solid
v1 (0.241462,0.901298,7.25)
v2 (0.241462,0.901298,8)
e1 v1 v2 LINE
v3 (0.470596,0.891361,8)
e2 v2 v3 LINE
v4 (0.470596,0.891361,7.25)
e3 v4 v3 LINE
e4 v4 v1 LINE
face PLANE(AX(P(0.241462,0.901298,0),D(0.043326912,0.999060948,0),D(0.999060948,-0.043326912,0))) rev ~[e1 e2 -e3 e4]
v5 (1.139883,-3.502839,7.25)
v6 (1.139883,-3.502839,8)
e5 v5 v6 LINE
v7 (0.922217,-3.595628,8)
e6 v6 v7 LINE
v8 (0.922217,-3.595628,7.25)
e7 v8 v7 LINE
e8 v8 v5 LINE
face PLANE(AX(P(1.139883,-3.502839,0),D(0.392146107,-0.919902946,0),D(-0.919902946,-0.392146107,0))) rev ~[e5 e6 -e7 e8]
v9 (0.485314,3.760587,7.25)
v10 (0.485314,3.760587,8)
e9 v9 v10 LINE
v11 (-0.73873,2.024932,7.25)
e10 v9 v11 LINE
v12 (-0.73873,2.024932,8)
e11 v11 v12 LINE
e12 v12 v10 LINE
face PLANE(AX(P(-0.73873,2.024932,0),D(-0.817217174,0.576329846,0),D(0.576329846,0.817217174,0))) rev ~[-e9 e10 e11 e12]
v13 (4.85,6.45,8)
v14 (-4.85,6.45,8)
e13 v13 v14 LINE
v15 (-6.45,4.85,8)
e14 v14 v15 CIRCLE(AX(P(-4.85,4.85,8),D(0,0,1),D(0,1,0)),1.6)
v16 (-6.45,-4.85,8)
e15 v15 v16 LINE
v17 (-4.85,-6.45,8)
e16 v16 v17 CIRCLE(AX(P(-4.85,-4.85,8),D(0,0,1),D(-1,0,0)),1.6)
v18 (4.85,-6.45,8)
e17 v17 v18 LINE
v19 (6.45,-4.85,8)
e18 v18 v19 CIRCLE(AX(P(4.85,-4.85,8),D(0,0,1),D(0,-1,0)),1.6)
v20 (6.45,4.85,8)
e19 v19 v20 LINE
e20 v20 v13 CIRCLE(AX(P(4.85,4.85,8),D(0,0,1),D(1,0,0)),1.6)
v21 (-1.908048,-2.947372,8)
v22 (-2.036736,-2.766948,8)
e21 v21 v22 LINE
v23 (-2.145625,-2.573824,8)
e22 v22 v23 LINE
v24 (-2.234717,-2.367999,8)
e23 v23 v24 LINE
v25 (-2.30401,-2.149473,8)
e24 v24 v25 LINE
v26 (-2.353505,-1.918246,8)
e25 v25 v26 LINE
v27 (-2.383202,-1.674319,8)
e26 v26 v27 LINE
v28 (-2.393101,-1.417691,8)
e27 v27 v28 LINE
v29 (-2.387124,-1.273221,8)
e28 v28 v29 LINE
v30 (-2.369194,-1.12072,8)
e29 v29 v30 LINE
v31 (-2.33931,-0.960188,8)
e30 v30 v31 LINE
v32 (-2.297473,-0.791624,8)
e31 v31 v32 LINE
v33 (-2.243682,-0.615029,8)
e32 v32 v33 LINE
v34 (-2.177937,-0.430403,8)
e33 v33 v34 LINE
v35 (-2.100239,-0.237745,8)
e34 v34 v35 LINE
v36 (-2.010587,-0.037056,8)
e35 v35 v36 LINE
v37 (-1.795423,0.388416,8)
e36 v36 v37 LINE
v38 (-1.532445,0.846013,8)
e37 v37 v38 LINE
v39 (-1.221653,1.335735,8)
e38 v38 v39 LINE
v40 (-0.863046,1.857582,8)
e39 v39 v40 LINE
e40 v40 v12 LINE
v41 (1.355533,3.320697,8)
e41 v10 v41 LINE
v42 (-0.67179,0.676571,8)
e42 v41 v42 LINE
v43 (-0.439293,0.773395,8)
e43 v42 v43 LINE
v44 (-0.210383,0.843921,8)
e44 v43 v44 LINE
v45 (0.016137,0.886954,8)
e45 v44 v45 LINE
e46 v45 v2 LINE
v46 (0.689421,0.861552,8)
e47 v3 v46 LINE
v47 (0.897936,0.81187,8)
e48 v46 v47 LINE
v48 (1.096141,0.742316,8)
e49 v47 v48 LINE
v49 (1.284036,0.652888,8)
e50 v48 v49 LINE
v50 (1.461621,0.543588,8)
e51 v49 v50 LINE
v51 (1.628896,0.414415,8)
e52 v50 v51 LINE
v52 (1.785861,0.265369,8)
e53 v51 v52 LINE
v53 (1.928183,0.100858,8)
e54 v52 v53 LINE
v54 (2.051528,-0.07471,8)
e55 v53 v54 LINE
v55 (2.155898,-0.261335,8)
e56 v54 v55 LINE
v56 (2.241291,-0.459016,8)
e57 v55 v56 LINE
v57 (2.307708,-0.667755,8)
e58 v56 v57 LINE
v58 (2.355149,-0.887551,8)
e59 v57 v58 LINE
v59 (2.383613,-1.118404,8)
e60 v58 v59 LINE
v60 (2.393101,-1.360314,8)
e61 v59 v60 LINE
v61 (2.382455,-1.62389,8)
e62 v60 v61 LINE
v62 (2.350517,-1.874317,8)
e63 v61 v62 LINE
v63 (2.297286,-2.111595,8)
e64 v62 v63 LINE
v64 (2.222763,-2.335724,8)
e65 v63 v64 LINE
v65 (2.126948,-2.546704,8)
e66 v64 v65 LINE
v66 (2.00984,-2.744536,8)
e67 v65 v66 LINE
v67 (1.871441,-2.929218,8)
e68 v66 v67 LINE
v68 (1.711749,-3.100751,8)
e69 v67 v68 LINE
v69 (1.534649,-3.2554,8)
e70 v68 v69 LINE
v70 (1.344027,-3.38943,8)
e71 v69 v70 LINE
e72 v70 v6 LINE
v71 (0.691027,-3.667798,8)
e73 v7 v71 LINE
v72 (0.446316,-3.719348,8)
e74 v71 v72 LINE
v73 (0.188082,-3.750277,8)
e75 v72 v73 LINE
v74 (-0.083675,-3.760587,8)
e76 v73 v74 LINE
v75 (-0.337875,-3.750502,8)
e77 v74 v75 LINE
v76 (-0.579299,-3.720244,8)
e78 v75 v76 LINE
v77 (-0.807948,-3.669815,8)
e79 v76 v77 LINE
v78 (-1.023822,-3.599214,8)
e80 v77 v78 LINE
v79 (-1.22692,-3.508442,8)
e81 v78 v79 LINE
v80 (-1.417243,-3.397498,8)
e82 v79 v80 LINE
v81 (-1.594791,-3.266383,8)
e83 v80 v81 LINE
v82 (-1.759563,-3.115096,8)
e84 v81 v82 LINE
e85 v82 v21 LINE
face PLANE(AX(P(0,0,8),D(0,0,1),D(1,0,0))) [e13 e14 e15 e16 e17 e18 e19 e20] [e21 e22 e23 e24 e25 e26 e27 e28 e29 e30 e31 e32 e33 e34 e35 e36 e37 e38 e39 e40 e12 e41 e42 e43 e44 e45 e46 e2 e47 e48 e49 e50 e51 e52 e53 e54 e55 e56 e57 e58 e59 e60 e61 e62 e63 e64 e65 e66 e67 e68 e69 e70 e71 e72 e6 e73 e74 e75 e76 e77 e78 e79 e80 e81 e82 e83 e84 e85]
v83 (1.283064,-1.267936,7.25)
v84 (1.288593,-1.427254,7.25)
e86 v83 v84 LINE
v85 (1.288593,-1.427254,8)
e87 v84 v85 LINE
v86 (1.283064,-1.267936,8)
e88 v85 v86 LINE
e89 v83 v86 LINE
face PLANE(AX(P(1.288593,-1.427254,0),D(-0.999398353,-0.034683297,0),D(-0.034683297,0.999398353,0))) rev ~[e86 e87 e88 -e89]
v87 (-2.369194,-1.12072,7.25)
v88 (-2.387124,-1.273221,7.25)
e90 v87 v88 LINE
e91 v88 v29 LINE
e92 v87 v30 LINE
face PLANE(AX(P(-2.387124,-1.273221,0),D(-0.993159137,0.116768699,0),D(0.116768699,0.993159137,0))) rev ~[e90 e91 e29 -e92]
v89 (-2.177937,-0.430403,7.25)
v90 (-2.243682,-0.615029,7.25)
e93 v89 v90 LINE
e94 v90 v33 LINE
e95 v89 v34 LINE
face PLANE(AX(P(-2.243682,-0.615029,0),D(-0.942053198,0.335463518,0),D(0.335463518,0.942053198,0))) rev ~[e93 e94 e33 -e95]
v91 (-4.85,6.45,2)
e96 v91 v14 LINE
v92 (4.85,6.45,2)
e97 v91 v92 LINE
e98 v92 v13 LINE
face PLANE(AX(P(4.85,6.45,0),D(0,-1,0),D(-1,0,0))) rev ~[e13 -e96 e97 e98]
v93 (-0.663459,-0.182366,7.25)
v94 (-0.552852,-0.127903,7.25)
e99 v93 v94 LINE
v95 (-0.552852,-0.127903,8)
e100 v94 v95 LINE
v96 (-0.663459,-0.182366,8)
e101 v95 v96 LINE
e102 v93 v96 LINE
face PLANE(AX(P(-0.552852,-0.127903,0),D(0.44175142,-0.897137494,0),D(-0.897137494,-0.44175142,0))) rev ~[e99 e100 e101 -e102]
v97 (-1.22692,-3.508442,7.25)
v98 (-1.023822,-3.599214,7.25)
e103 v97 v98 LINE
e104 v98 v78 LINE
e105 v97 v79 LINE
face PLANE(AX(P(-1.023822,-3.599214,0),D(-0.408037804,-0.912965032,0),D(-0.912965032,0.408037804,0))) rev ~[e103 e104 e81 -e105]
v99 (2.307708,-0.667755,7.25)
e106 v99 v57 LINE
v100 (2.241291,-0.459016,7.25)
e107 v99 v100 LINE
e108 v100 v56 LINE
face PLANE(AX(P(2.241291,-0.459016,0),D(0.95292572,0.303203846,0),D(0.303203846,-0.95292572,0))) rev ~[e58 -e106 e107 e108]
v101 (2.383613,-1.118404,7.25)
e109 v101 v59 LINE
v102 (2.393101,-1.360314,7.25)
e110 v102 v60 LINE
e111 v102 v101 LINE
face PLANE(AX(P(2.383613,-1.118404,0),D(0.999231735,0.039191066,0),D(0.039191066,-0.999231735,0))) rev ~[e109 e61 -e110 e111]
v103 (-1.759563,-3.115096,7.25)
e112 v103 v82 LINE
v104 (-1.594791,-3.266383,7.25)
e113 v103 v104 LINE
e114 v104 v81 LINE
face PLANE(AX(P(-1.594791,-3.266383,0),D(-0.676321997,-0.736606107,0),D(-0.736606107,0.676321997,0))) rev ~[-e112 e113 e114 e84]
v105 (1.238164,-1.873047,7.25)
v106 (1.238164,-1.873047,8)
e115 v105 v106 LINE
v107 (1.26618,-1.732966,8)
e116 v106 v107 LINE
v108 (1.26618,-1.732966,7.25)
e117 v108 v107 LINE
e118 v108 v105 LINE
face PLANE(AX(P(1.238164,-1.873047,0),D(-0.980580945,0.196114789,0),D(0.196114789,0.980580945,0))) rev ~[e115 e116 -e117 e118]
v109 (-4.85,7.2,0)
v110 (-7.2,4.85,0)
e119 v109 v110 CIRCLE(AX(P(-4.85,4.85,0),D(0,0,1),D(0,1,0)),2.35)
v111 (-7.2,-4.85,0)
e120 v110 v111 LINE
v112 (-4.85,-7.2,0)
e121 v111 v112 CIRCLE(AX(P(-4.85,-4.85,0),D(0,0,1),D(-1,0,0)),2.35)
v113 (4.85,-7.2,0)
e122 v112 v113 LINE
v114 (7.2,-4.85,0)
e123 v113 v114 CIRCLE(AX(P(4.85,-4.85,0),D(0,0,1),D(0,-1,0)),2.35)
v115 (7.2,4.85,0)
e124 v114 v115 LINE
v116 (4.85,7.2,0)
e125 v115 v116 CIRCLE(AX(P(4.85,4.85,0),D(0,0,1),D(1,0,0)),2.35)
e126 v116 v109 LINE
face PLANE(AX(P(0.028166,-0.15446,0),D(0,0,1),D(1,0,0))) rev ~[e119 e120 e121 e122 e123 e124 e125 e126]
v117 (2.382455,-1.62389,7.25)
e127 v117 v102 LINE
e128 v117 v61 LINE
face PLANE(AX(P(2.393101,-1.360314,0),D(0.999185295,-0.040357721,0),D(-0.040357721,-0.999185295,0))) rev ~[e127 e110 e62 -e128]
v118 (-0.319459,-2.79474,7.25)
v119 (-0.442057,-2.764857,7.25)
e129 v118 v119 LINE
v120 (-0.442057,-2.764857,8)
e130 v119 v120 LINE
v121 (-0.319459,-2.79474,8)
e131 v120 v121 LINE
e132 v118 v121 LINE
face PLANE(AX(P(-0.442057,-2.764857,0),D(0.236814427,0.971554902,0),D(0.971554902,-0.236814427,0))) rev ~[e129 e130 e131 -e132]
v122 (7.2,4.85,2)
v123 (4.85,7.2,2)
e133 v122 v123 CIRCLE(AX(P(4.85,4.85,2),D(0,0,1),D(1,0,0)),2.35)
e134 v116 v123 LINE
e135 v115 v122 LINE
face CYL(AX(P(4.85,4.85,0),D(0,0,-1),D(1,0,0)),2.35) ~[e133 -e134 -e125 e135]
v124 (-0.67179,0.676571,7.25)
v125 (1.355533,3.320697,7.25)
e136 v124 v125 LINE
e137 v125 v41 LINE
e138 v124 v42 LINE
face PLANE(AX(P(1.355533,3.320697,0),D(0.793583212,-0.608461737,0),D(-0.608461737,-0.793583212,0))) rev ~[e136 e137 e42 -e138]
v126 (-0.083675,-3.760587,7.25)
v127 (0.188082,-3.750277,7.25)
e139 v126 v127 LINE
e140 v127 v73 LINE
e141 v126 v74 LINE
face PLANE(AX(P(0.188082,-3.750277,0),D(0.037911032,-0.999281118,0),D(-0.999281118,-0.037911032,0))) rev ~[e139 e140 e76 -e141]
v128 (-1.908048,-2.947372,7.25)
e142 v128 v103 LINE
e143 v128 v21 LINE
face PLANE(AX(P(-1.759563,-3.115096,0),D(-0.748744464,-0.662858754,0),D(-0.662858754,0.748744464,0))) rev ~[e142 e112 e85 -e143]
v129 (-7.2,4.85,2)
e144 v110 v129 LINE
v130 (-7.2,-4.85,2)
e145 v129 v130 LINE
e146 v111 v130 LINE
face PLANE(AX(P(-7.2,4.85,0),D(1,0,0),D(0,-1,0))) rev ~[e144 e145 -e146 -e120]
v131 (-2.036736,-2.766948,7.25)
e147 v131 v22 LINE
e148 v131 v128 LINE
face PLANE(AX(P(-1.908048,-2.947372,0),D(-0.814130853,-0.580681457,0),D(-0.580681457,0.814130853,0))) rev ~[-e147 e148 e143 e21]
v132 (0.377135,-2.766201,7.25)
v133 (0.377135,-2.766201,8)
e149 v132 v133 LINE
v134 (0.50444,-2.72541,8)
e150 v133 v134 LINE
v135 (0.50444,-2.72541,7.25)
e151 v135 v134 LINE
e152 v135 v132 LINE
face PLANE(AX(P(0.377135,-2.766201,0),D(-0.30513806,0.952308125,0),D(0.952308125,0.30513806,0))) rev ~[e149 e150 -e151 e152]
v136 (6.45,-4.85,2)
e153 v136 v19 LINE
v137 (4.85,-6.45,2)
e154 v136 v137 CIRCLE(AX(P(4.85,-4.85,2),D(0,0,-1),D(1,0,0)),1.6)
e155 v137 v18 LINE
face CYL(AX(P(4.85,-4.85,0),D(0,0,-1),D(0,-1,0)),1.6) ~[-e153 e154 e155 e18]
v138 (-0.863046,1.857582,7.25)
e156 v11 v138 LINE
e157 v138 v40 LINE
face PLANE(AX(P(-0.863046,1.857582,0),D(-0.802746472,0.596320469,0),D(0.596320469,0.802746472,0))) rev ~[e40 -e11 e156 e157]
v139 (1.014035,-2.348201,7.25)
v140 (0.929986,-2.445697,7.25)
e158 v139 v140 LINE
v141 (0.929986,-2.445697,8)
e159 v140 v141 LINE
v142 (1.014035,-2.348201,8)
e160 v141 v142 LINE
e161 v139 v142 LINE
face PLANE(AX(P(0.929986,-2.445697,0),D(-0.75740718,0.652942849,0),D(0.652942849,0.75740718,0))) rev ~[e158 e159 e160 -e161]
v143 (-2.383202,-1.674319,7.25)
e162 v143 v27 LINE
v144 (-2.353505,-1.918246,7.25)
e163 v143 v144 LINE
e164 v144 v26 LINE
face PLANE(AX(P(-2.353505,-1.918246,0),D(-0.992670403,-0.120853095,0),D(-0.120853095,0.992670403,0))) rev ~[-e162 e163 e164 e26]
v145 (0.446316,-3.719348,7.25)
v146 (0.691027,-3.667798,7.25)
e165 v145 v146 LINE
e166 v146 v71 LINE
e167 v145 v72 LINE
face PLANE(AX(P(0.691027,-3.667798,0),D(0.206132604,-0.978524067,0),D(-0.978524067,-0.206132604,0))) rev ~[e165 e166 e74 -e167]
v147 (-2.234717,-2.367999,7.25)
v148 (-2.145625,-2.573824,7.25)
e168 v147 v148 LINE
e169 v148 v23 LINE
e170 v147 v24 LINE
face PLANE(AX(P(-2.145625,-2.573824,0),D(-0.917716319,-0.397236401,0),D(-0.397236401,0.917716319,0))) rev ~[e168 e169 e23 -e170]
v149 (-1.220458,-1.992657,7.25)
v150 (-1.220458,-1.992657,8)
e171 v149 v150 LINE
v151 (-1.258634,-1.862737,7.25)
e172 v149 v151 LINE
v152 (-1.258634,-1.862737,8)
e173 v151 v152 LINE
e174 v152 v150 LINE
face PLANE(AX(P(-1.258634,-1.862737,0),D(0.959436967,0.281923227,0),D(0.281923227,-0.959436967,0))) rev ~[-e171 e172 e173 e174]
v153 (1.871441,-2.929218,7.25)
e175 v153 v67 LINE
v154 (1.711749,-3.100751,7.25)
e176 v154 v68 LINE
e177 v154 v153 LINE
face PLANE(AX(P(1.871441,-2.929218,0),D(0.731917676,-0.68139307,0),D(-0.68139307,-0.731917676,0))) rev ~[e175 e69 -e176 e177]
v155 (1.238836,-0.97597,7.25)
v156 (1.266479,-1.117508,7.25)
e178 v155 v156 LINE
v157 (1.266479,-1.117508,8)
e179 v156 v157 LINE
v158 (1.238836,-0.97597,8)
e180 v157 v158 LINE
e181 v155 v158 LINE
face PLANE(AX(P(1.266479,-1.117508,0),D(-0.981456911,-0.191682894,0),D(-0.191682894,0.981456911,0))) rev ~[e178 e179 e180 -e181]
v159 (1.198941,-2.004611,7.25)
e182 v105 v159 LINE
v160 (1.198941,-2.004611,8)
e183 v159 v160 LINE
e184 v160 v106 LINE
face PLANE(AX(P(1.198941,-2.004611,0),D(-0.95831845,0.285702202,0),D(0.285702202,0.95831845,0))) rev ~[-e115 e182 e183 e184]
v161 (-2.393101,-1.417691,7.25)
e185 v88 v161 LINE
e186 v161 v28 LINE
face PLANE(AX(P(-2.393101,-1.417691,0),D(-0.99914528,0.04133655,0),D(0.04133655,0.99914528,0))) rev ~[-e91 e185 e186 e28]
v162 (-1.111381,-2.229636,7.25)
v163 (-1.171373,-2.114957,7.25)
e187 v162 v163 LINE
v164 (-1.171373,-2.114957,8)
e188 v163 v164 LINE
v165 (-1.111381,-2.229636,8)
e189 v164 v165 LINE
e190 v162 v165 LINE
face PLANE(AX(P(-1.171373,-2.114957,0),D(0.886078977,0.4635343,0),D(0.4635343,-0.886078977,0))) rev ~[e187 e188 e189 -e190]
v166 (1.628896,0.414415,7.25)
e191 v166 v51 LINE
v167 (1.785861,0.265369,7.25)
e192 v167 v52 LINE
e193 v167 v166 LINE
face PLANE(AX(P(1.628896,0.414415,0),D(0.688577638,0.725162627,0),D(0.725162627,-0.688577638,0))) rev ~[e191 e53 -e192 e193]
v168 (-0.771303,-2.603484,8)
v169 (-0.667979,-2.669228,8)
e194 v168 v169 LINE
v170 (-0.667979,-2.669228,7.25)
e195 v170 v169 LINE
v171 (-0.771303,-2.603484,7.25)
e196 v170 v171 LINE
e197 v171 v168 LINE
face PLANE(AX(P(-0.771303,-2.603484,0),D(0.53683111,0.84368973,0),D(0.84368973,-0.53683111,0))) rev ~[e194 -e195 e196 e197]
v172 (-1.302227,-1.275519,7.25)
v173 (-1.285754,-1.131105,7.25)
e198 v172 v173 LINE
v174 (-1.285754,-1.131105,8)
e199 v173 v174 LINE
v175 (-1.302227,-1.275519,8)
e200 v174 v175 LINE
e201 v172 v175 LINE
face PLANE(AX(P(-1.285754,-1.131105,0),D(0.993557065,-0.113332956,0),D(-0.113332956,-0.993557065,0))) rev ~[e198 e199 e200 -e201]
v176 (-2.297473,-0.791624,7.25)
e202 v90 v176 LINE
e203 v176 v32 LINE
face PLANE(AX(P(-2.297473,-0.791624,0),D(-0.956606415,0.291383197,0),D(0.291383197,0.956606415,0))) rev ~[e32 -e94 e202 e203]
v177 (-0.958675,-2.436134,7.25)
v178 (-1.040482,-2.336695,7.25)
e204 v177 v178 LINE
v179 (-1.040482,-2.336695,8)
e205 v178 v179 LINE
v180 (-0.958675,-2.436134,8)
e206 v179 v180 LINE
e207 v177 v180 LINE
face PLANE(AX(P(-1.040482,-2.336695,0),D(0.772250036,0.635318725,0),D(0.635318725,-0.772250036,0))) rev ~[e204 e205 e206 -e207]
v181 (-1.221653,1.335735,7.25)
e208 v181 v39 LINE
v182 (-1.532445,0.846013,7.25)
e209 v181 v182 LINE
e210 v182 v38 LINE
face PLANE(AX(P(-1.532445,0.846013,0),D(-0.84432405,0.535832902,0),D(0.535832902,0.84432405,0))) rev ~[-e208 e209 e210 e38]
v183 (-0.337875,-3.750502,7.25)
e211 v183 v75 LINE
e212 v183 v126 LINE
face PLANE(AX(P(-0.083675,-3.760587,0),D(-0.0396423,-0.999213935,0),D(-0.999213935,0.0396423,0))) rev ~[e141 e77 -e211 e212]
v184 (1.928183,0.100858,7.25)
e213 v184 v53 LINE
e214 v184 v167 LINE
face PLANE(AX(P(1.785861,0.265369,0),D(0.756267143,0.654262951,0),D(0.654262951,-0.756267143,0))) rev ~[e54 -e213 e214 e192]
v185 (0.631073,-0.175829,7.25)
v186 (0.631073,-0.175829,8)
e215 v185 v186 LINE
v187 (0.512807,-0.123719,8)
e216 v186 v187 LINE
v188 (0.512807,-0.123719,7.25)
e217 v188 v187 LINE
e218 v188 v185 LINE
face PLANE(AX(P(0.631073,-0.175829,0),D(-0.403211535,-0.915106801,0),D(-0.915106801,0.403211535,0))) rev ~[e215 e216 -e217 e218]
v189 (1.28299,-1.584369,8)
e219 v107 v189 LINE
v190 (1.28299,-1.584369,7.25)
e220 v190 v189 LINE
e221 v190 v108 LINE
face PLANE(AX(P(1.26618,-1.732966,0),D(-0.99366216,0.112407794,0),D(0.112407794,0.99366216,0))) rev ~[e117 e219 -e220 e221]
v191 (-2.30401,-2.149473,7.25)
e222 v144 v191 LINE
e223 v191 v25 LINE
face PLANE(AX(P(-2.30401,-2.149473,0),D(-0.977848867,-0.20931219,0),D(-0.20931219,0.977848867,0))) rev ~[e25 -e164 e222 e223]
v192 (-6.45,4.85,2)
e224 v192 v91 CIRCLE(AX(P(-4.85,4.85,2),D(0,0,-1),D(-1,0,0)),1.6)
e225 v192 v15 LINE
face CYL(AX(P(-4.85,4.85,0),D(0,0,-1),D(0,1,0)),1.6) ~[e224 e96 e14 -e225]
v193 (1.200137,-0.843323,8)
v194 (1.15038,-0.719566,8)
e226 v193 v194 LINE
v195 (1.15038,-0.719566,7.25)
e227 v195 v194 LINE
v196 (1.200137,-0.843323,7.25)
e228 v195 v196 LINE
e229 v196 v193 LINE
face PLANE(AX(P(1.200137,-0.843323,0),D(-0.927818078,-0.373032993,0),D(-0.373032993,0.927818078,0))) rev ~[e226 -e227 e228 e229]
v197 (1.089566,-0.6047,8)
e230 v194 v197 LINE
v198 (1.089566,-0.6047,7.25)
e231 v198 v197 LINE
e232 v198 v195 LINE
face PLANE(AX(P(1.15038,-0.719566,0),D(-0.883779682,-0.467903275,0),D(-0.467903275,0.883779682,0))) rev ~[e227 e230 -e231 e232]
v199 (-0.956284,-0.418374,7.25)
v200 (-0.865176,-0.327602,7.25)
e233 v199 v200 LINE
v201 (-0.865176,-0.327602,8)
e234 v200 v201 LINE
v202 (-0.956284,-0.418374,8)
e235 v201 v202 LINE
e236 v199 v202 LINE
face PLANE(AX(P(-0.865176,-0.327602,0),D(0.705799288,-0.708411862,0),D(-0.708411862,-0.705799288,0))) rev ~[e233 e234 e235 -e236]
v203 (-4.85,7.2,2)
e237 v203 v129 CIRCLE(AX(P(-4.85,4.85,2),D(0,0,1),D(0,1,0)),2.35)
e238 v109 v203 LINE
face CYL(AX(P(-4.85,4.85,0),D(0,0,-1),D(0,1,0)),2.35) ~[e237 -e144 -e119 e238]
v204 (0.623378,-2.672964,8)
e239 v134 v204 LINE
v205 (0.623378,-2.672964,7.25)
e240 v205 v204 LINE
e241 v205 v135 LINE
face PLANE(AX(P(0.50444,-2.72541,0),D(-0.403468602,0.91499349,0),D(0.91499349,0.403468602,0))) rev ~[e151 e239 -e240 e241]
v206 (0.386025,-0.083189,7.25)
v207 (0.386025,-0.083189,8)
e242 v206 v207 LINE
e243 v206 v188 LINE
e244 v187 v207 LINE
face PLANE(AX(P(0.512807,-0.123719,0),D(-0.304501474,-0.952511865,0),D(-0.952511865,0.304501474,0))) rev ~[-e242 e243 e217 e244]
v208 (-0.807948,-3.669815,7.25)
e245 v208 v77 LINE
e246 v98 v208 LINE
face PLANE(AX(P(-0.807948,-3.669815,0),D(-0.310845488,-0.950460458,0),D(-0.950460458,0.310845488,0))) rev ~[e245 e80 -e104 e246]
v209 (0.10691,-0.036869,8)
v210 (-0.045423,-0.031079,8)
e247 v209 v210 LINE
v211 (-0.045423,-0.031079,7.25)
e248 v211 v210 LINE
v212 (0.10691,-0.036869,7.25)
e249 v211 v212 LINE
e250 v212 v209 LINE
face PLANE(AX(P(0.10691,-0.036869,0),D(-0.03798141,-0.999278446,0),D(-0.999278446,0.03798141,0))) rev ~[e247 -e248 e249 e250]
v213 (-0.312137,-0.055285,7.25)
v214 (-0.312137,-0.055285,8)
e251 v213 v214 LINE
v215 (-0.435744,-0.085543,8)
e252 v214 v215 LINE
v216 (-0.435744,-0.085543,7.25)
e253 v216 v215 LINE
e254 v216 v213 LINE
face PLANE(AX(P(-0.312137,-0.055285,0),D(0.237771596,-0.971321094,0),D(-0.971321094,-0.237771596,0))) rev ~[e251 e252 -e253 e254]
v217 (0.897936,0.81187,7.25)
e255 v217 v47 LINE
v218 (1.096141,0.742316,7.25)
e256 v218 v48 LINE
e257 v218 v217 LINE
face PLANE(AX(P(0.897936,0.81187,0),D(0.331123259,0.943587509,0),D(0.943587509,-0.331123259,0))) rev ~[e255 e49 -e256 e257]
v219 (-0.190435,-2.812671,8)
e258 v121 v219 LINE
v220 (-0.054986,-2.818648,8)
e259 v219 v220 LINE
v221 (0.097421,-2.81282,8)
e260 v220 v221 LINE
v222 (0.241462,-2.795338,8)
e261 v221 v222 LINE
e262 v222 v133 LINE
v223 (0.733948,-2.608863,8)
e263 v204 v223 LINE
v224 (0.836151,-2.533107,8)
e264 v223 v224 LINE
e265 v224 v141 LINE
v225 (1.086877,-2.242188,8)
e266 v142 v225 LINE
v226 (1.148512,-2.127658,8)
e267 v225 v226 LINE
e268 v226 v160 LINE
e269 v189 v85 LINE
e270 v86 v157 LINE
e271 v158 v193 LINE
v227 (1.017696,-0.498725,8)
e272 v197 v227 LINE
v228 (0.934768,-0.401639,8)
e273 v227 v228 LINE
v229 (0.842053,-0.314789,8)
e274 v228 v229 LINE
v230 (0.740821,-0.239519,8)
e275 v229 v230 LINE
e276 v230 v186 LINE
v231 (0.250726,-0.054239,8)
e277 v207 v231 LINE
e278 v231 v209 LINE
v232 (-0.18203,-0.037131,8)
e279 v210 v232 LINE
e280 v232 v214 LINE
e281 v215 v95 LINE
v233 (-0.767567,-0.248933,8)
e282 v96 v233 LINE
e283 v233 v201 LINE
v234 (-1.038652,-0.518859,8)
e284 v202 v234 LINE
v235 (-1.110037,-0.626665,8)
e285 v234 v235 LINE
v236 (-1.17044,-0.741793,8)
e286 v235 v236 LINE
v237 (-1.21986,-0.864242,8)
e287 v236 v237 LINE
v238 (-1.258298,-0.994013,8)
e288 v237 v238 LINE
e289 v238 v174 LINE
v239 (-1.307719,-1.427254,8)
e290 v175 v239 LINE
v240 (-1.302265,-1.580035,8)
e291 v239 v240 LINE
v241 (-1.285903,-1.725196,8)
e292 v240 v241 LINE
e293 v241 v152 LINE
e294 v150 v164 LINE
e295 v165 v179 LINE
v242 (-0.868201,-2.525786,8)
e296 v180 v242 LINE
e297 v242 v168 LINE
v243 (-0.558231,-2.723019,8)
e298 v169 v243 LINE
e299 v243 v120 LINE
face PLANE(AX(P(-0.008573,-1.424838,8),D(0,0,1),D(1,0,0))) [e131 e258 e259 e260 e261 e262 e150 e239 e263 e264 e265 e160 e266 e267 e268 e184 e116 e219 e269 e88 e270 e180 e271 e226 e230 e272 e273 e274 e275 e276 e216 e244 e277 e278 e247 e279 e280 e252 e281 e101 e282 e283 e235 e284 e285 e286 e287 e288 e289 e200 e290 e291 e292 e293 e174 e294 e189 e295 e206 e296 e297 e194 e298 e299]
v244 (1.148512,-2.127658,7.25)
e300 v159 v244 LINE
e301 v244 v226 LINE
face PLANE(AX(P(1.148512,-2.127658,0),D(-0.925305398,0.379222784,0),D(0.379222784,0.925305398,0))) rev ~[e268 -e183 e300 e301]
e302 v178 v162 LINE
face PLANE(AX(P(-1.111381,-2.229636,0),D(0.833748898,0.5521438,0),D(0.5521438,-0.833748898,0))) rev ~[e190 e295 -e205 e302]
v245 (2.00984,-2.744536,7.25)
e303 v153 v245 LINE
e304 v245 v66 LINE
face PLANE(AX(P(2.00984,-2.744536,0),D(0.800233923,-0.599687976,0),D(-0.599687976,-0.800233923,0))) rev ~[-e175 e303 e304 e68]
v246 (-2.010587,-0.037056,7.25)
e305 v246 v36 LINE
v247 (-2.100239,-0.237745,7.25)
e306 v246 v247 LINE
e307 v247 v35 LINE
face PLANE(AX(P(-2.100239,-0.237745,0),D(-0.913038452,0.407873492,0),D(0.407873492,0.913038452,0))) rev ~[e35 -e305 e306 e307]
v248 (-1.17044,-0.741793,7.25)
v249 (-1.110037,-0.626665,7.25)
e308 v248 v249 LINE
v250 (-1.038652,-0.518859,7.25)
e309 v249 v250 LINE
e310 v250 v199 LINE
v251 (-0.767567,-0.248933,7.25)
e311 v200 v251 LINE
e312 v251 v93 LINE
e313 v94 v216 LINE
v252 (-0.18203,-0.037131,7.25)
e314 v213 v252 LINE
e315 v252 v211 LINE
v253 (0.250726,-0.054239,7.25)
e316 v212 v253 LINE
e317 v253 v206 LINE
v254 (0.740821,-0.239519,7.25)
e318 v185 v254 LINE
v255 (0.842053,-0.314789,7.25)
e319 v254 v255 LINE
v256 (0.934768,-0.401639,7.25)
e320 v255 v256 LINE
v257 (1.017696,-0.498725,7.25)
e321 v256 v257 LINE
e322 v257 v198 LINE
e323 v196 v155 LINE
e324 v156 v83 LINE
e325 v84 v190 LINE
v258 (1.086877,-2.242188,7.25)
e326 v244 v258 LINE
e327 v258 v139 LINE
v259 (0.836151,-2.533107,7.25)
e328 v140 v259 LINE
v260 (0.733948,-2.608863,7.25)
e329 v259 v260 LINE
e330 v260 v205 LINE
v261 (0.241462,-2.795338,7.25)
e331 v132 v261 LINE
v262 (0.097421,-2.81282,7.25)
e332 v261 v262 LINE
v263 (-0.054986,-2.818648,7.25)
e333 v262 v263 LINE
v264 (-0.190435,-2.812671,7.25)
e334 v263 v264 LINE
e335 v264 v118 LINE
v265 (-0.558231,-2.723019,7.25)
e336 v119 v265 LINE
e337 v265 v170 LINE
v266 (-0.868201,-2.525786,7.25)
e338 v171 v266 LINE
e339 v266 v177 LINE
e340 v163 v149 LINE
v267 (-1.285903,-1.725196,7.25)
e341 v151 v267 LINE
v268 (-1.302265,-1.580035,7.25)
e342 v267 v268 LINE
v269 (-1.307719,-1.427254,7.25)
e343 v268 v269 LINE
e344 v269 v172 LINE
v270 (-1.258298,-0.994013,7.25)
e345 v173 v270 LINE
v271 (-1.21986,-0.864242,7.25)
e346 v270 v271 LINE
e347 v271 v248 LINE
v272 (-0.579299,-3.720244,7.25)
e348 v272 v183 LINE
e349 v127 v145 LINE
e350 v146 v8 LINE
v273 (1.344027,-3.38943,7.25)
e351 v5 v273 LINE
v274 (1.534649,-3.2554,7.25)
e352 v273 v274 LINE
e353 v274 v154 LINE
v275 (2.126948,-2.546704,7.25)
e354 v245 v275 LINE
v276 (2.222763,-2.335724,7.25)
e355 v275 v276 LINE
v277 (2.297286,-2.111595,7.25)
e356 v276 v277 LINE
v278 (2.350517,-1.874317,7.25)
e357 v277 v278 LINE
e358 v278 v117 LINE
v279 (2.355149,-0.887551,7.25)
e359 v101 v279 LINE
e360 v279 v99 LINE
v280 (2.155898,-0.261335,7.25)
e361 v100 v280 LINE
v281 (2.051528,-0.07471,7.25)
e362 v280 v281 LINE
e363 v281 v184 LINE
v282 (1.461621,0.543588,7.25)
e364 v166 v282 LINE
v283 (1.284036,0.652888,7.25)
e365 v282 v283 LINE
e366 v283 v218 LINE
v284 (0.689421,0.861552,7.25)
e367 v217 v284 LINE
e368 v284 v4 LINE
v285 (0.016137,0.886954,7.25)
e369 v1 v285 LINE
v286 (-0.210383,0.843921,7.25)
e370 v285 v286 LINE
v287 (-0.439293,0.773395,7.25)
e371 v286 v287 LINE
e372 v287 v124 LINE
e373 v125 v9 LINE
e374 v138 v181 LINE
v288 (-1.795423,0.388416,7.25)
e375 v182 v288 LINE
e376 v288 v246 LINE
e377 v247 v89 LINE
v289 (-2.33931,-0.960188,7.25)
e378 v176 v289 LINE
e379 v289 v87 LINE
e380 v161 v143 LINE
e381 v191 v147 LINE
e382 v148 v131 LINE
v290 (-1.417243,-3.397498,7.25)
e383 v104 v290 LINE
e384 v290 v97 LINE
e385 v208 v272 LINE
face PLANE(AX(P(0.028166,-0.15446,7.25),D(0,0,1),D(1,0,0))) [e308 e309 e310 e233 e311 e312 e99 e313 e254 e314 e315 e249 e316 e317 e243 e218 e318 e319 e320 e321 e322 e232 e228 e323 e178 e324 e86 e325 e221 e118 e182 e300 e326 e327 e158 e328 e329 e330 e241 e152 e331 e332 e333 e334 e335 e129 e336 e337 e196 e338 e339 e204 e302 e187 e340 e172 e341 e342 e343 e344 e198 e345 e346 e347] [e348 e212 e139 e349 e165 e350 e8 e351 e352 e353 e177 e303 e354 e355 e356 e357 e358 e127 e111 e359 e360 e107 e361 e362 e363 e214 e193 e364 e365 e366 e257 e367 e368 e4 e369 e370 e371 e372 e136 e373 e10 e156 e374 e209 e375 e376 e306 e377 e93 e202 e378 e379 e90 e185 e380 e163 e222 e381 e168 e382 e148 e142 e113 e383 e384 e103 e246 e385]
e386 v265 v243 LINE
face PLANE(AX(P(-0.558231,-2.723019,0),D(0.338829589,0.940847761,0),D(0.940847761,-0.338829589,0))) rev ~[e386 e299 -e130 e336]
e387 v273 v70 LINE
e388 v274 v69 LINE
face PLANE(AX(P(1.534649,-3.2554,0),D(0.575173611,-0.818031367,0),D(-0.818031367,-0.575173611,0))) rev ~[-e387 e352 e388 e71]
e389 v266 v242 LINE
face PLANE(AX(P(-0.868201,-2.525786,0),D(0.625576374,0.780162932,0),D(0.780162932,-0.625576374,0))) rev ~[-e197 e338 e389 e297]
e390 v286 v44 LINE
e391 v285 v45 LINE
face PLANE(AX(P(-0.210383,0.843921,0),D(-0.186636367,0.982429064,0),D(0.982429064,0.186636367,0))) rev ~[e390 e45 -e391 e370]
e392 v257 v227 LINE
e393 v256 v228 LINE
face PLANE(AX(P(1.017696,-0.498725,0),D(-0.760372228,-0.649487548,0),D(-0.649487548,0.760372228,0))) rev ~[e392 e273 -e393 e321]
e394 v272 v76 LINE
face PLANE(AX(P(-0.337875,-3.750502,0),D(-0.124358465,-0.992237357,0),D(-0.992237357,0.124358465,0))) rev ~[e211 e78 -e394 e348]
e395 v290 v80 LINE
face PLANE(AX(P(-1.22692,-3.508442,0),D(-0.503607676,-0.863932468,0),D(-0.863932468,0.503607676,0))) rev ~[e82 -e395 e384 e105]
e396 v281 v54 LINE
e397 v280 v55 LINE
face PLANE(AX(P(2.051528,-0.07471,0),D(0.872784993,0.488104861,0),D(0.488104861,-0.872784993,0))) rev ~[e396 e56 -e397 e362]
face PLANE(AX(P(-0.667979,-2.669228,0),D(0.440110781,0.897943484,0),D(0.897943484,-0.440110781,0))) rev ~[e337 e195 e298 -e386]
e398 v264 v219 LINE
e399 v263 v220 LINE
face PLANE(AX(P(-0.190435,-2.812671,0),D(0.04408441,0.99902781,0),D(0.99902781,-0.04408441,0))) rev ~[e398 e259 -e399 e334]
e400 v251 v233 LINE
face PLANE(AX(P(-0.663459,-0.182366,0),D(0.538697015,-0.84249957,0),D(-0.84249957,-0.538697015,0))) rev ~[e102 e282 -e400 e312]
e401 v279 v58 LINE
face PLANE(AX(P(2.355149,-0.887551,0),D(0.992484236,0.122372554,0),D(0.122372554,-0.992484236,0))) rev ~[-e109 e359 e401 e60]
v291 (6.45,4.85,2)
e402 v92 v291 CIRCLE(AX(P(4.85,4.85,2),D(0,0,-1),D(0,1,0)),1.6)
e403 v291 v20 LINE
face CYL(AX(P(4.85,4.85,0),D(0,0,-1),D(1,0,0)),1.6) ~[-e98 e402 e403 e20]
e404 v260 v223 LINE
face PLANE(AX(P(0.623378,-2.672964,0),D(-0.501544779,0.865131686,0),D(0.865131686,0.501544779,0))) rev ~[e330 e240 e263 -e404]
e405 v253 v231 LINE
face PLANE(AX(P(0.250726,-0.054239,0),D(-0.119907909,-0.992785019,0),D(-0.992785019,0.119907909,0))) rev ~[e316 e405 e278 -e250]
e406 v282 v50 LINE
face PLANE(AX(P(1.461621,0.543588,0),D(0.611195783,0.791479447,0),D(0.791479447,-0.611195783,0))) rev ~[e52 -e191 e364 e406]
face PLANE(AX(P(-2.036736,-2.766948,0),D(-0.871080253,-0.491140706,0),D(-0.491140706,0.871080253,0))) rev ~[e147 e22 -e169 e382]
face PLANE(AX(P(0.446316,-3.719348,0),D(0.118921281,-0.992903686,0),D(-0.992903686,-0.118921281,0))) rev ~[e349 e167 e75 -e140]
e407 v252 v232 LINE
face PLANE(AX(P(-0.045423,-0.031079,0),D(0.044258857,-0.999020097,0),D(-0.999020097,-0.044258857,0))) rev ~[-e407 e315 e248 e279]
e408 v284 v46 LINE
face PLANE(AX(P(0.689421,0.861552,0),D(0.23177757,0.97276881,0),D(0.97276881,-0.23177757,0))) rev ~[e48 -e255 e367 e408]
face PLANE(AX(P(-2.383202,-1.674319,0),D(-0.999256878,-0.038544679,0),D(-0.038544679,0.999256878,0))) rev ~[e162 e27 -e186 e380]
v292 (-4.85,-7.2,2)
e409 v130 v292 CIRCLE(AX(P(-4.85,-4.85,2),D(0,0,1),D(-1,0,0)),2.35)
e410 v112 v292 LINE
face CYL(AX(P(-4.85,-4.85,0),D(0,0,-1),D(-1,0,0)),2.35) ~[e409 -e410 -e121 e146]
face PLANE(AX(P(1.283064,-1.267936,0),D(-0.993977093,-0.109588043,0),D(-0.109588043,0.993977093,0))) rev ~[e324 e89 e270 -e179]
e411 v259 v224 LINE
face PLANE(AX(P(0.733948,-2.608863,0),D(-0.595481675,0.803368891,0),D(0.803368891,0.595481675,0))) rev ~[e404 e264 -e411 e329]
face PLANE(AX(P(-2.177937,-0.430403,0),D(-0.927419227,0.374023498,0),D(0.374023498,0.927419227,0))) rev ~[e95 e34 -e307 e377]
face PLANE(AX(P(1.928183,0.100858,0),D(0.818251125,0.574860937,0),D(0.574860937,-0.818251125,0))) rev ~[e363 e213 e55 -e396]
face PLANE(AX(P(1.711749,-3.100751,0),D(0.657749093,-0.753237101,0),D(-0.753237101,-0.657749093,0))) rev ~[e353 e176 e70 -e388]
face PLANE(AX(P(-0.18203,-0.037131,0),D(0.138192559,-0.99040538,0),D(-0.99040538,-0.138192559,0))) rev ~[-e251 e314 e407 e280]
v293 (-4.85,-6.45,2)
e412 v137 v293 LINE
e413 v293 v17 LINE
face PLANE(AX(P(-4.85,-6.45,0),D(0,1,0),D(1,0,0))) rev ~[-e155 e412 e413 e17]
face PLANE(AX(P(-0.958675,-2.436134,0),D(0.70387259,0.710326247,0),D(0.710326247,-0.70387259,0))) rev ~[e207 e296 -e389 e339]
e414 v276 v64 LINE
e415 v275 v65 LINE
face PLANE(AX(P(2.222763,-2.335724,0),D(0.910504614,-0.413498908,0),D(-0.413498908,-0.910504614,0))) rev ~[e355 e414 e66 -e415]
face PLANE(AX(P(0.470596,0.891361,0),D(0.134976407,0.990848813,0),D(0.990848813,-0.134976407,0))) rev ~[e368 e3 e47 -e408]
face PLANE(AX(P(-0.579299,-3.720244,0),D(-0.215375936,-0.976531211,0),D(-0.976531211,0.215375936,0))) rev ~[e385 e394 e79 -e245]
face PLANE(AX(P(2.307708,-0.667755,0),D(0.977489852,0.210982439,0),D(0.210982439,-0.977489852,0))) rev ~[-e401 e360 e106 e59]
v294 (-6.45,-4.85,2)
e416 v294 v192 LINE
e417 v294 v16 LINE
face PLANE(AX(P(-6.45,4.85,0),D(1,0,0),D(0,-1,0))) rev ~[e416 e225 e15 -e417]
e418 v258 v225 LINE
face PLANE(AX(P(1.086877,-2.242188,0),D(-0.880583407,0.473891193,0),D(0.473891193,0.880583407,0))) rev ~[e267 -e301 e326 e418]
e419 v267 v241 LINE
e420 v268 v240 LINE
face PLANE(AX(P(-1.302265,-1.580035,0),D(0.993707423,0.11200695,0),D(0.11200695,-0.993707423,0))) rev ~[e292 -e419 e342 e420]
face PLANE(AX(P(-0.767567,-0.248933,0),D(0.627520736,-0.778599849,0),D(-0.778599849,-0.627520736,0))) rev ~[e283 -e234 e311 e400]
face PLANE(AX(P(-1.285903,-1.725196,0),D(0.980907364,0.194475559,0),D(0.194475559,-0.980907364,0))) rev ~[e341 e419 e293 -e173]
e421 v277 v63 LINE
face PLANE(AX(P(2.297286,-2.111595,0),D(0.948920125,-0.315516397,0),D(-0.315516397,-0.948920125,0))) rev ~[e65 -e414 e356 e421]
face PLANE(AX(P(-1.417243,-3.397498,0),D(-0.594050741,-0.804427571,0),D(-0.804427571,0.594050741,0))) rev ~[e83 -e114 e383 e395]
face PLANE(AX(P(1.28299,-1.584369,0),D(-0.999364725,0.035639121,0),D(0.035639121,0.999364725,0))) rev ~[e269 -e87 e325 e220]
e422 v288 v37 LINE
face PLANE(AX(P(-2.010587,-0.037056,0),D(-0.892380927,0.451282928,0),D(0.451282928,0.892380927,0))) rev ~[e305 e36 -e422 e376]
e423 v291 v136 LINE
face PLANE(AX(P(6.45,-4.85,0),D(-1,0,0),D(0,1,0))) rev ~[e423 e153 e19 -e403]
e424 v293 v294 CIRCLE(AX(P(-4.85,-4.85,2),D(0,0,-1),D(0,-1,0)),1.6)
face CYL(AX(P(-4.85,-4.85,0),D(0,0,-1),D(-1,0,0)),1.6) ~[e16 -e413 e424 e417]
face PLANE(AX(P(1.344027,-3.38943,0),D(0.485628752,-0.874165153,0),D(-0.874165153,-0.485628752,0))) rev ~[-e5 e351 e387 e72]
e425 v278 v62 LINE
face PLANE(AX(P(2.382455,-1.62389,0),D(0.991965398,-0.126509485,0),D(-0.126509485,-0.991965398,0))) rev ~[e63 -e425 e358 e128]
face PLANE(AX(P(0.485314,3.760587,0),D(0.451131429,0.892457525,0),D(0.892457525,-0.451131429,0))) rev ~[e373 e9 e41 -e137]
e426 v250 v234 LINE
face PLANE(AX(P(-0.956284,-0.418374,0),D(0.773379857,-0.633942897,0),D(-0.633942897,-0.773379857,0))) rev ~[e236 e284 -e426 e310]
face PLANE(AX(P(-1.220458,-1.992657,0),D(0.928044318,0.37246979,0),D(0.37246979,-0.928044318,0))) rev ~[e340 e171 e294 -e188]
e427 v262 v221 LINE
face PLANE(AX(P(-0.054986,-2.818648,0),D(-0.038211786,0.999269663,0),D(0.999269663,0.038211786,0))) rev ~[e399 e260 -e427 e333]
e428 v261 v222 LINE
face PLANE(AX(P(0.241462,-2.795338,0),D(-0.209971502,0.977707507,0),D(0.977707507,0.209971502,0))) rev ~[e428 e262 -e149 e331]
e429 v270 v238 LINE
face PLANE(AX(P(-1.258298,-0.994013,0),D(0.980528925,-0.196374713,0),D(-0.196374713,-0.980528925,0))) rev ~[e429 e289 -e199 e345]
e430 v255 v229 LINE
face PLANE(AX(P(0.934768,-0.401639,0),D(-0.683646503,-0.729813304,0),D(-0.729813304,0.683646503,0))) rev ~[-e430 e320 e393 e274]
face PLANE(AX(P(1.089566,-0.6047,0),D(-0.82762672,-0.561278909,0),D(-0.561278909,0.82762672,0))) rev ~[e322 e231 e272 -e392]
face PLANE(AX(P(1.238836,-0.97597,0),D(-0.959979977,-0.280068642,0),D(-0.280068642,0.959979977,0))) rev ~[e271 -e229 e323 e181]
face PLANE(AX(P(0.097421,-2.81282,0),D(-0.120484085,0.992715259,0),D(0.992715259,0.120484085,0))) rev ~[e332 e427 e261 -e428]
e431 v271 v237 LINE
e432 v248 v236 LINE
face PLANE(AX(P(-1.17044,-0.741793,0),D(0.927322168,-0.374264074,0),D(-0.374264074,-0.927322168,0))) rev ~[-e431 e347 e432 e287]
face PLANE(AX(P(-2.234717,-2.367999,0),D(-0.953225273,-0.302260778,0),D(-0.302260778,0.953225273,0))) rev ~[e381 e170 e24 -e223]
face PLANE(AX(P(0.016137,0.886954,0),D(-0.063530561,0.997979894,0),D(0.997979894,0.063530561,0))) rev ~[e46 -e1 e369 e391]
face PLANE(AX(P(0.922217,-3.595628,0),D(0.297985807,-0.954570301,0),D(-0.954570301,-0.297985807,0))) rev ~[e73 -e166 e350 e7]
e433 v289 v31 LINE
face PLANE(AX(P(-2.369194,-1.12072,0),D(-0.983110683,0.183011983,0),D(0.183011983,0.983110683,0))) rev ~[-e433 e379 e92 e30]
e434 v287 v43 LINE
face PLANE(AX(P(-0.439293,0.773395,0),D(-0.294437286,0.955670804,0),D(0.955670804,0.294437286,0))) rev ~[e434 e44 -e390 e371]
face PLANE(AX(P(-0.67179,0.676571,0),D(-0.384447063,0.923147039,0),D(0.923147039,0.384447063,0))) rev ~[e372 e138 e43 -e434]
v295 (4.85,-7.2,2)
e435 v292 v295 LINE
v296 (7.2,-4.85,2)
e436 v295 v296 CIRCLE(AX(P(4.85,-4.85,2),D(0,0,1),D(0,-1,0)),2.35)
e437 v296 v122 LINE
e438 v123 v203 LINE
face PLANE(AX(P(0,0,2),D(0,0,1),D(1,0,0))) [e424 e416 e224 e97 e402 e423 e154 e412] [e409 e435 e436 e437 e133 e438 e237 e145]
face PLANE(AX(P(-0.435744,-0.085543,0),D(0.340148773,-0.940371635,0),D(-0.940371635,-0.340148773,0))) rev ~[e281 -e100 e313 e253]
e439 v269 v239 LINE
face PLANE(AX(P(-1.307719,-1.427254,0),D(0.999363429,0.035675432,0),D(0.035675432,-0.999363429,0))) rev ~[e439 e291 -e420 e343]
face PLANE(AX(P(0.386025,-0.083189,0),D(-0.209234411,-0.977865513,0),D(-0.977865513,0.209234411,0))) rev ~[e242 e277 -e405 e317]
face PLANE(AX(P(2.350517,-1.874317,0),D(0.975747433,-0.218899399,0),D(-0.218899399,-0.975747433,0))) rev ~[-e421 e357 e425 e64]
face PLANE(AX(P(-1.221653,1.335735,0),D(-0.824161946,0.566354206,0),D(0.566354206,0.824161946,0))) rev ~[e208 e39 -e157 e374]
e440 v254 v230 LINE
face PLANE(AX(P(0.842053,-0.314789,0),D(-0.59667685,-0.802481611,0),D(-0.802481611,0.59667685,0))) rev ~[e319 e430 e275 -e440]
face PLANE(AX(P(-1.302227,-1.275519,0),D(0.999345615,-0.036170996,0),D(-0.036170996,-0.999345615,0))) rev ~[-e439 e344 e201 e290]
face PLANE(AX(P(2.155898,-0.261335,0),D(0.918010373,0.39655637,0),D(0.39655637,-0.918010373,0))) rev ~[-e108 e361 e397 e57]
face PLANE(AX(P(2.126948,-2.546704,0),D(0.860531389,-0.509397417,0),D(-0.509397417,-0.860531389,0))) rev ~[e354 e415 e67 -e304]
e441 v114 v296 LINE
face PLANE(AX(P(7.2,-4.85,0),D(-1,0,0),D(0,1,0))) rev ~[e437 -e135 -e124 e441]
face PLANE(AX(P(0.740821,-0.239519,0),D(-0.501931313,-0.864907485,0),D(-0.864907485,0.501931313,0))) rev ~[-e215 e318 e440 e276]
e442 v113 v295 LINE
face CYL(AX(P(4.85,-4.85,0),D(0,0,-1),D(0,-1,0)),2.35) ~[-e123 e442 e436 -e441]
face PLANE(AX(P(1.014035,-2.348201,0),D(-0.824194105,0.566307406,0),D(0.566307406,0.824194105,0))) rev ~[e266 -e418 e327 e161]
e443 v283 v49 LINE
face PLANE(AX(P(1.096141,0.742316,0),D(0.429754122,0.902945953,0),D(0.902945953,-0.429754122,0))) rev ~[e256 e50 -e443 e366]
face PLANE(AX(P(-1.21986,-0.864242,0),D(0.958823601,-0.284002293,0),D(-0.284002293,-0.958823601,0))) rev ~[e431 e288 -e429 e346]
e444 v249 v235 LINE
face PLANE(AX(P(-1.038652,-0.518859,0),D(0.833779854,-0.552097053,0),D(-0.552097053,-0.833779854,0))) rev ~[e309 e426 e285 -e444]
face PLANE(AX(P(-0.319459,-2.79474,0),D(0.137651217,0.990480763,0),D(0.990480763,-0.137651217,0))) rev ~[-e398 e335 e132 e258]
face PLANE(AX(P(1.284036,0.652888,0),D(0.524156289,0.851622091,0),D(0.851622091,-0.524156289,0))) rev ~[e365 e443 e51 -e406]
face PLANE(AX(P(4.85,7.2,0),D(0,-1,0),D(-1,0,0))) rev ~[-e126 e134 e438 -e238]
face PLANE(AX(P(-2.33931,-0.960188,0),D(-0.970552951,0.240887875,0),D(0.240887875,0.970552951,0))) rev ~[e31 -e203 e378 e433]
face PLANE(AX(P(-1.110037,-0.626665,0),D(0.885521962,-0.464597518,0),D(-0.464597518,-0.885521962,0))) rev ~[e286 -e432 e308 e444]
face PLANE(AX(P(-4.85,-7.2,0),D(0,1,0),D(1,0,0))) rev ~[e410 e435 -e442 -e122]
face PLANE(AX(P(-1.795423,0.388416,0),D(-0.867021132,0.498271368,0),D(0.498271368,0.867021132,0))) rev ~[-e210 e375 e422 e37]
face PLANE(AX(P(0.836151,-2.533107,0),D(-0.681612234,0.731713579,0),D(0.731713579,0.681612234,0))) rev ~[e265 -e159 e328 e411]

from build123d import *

# Parameters (mm, degrees)
F1_DEPTH = 2
F2_DEPTH = 8
F3_DEPTH = 7.25


with BuildPart() as f1:
    # F0 (on Top) → F1 (new body)
    with BuildSketch(Plane.XY):
        with BuildLine():
            Line((4.85, 7.2), (-4.85, 7.2))
            ThreePointArc((-4.85, 7.2), (-6.5117009358, 6.5117009358), (-7.2, 4.85))
            Line((-7.2, 4.85), (-7.2, -4.85))
            ThreePointArc((-7.2, -4.85), (-6.5117009358, -6.5117009358), (-4.85, -7.2))
            Line((-4.85, -7.2), (4.85, -7.2))
            ThreePointArc((4.85, -7.2), (6.5117009358, -6.5117009358), (7.2, -4.85))
            Line((7.2, -4.85), (7.2, 4.85))
            ThreePointArc((7.2, 4.85), (6.5117009358, 6.5117009358), (4.85, 7.2))
        make_face()
        with BuildLine():
            ThreePointArc((6.45, -4.85), (5.9813708499, -5.9813708499), (4.85, -6.45))
            Line((4.85, -6.45), (-4.85, -6.45))
            ThreePointArc((-4.85, -6.45), (-5.9813708499, -5.9813708499), (-6.45, -4.85))
            Line((-6.45, -4.85), (-6.45, 4.85))
            ThreePointArc((-6.45, 4.85), (-5.9813708499, 5.9813708499), (-4.85, 6.45))
            Line((-4.85, 6.45), (4.85, 6.45))
            ThreePointArc((4.85, 6.45), (5.9813708499, 5.9813708499), (6.45, 4.85))
            Line((6.45, 4.85), (6.45, -4.85))
        make_face(mode=Mode.SUBTRACT)
    extrude(amount=F1_DEPTH)

    # F0 (on Top) → F2 (join)
    with BuildSketch(Plane.XY):
        with BuildLine():
            Line((-4.85, -6.45), (4.85, -6.45))
            ThreePointArc((4.85, -6.45), (5.9813708499, -5.9813708499), (6.45, -4.85))
            Line((6.45, -4.85), (6.45, 4.85))
            ThreePointArc((6.45, 4.85), (5.9813708499, 5.9813708499), (4.85, 6.45))
            Line((4.85, 6.45), (-4.85, 6.45))
            ThreePointArc((-4.85, 6.45), (-5.9813708499, 5.9813708499), (-6.45, 4.85))
            Line((-6.45, 4.85), (-6.45, -4.85))
            ThreePointArc((-6.45, -4.85), (-5.9813708499, -5.9813708499), (-4.85, -6.45))
        make_face()
        Polygon((1.355533, 3.320697), (-0.67179, 0.676571), (-0.439293, 0.773395), (-0.210383, 0.843921), (0.016137, 0.886954), (0.241462, 0.901298), (0.470596, 0.891361), (0.689421, 0.861552), (0.897936, 0.81187), (1.096141, 0.742316), (1.284036, 0.652888), (1.461621, 0.543588), (1.628896, 0.414415), (1.785861, 0.265369), (1.928183, 0.100858), (2.051528, -0.07471), (2.155898, -0.261335), (2.241291, -0.459016), (2.307708, -0.667755), (2.355149, -0.887551), (2.383613, -1.118404), (2.393101, -1.360314), (2.382455, -1.62389), (2.350517, -1.874317), (2.297286, -2.111595), (2.222763, -2.335724), (2.126948, -2.546704), (2.00984, -2.744536), (1.871441, -2.929218), (1.711749, -3.100751), (1.534649, -3.2554), (1.344027, -3.38943), (1.139883, -3.502839), (0.922217, -3.595628), (0.691027, -3.667798), (0.446316, -3.719348), (0.188082, -3.750277), (-0.083675, -3.760587), (-0.337875, -3.750502), (-0.579299, -3.720244), (-0.807948, -3.669815), (-1.023822, -3.599214), (-1.22692, -3.508442), (-1.417243, -3.397498), (-1.594791, -3.266383), (-1.759563, -3.115096), (-1.908048, -2.947372), (-2.036736, -2.766948), (-2.145625, -2.573824), (-2.234717, -2.367999), (-2.30401, -2.149473), (-2.353505, -1.918246), (-2.383202, -1.674319), (-2.393101, -1.417691), (-2.387124, -1.273221), (-2.369194, -1.12072), (-2.33931, -0.960188), (-2.297473, -0.791624), (-2.243682, -0.615029), (-2.177937, -0.430403), (-2.100239, -0.237745), (-2.010587, -0.037056), (-1.795423, 0.388416), (-1.532445, 0.846013), (-1.221653, 1.335735), (-0.863046, 1.857582), (-0.73873, 2.024932), (0.485314, 3.760587), align=None, mode=Mode.SUBTRACT)
    extrude(amount=F2_DEPTH)



with BuildPart() as f2:
    # F0 (on Top) → F2, piece 2 (new body)
    with BuildSketch(Plane.XY):
        Polygon((-1.302227, -1.275519), (-1.307719, -1.427254), (-1.302265, -1.580035), (-1.285903, -1.725196), (-1.258634, -1.862737), (-1.220458, -1.992657), (-1.171373, -2.114957), (-1.111381, -2.229636), (-1.040482, -2.336695), (-0.958675, -2.436134), (-0.868201, -2.525786), (-0.771303, -2.603484), (-0.667979, -2.669228), (-0.558231, -2.723019), (-0.442057, -2.764857), (-0.319459, -2.79474), (-0.190435, -2.812671), (-0.054986, -2.818648), (0.097421, -2.81282), (0.241462, -2.795338), (0.377135, -2.766201), (0.50444, -2.72541), (0.623378, -2.672964), (0.733948, -2.608863), (0.836151, -2.533107), (0.929986, -2.445697), (1.014035, -2.348201), (1.086877, -2.242188), (1.148512, -2.127658), (1.198941, -2.004611), (1.238164, -1.873047), (1.26618, -1.732966), (1.28299, -1.584369), (1.288593, -1.427254), (1.283064, -1.267936), (1.266479, -1.117508), (1.238836, -0.97597), (1.200137, -0.843323), (1.15038, -0.719566), (1.089566, -0.6047), (1.017696, -0.498725), (0.934768, -0.401639), (0.842053, -0.314789), (0.740821, -0.239519), (0.631073, -0.175829), (0.512807, -0.123719), (0.386025, -0.083189), (0.250726, -0.054239), (0.10691, -0.036869), (-0.045423, -0.031079), (-0.18203, -0.037131), (-0.312137, -0.055285), (-0.435744, -0.085543), (-0.552852, -0.127903), (-0.663459, -0.182366), (-0.767567, -0.248933), (-0.865176, -0.327602), (-0.956284, -0.418374), (-1.038652, -0.518859), (-1.110037, -0.626665), (-1.17044, -0.741793), (-1.21986, -0.864242), (-1.258298, -0.994013), (-1.285754, -1.131105), align=None)
    extrude(amount=F2_DEPTH)


with BuildPart() as f1_1:
    add(f1.part)

    add(f2.part)  # F3 merges F2
    # F0 (on Top) → F3 (join)
    with BuildSketch(Plane.XY):
        Polygon((-0.439293, 0.773395), (-0.67179, 0.676571), (1.355533, 3.320697), (0.485314, 3.760587), (-0.73873, 2.024932), (-0.863046, 1.857582), (-1.221653, 1.335735), (-1.532445, 0.846013), (-1.795423, 0.388416), (-2.010587, -0.037056), (-2.100239, -0.237745), (-2.177937, -0.430403), (-2.243682, -0.615029), (-2.297473, -0.791624), (-2.33931, -0.960188), (-2.369194, -1.12072), (-2.387124, -1.273221), (-2.393101, -1.417691), (-2.383202, -1.674319), (-2.353505, -1.918246), (-2.30401, -2.149473), (-2.234717, -2.367999), (-2.145625, -2.573824), (-2.036736, -2.766948), (-1.908048, -2.947372), (-1.759563, -3.115096), (-1.594791, -3.266383), (-1.417243, -3.397498), (-1.22692, -3.508442), (-1.023822, -3.599214), (-0.807948, -3.669815), (-0.579299, -3.720244), (-0.337875, -3.750502), (-0.083675, -3.760587), (0.188082, -3.750277), (0.446316, -3.719348), (0.691027, -3.667798), (0.922217, -3.595628), (1.139883, -3.502839), (1.344027, -3.38943), (1.534649, -3.2554), (1.711749, -3.100751), (1.871441, -2.929218), (2.00984, -2.744536), (2.126948, -2.546704), (2.222763, -2.335724), (2.297286, -2.111595), (2.350517, -1.874317), (2.382455, -1.62389), (2.393101, -1.360314), (2.383613, -1.118404), (2.355149, -0.887551), (2.307708, -0.667755), (2.241291, -0.459016), (2.155898, -0.261335), (2.051528, -0.07471), (1.928183, 0.100858), (1.785861, 0.265369), (1.628896, 0.414415), (1.461621, 0.543588), (1.284036, 0.652888), (1.096141, 0.742316), (0.897936, 0.81187), (0.689421, 0.861552), (0.470596, 0.891361), (0.241462, 0.901298), (0.016137, 0.886954), (-0.210383, 0.843921), align=None)
        Polygon((-1.302265, -1.580035), (-1.307719, -1.427254), (-1.302227, -1.275519), (-1.285754, -1.131105), (-1.258298, -0.994013), (-1.21986, -0.864242), (-1.17044, -0.741793), (-1.110037, -0.626665), (-1.038652, -0.518859), (-0.956284, -0.418374), (-0.865176, -0.327602), (-0.767567, -0.248933), (-0.663459, -0.182366), (-0.552852, -0.127903), (-0.435744, -0.085543), (-0.312137, -0.055285), (-0.18203, -0.037131), (-0.045423, -0.031079), (0.10691, -0.036869), (0.250726, -0.054239), (0.386025, -0.083189), (0.512807, -0.123719), (0.631073, -0.175829), (0.740821, -0.239519), (0.842053, -0.314789), (0.934768, -0.401639), (1.017696, -0.498725), (1.089566, -0.6047), (1.15038, -0.719566), (1.200137, -0.843323), (1.238836, -0.97597), (1.266479, -1.117508), (1.283064, -1.267936), (1.288593, -1.427254), (1.28299, -1.584369), (1.26618, -1.732966), (1.238164, -1.873047), (1.198941, -2.004611), (1.148512, -2.127658), (1.086877, -2.242188), (1.014035, -2.348201), (0.929986, -2.445697), (0.836151, -2.533107), (0.733948, -2.608863), (0.623378, -2.672964), (0.50444, -2.72541), (0.377135, -2.766201), (0.241462, -2.795338), (0.097421, -2.81282), (-0.054986, -2.818648), (-0.190435, -2.812671), (-0.319459, -2.79474), (-0.442057, -2.764857), (-0.558231, -2.723019), (-0.667979, -2.669228), (-0.771303, -2.603484), (-0.868201, -2.525786), (-0.958675, -2.436134), (-1.040482, -2.336695), (-1.111381, -2.229636), (-1.171373, -2.114957), (-1.220458, -1.992657), (-1.258634, -1.862737), (-1.285903, -1.725196), align=None, mode=Mode.SUBTRACT)
    extrude(amount=F3_DEPTH)


solid = f1_1.part
